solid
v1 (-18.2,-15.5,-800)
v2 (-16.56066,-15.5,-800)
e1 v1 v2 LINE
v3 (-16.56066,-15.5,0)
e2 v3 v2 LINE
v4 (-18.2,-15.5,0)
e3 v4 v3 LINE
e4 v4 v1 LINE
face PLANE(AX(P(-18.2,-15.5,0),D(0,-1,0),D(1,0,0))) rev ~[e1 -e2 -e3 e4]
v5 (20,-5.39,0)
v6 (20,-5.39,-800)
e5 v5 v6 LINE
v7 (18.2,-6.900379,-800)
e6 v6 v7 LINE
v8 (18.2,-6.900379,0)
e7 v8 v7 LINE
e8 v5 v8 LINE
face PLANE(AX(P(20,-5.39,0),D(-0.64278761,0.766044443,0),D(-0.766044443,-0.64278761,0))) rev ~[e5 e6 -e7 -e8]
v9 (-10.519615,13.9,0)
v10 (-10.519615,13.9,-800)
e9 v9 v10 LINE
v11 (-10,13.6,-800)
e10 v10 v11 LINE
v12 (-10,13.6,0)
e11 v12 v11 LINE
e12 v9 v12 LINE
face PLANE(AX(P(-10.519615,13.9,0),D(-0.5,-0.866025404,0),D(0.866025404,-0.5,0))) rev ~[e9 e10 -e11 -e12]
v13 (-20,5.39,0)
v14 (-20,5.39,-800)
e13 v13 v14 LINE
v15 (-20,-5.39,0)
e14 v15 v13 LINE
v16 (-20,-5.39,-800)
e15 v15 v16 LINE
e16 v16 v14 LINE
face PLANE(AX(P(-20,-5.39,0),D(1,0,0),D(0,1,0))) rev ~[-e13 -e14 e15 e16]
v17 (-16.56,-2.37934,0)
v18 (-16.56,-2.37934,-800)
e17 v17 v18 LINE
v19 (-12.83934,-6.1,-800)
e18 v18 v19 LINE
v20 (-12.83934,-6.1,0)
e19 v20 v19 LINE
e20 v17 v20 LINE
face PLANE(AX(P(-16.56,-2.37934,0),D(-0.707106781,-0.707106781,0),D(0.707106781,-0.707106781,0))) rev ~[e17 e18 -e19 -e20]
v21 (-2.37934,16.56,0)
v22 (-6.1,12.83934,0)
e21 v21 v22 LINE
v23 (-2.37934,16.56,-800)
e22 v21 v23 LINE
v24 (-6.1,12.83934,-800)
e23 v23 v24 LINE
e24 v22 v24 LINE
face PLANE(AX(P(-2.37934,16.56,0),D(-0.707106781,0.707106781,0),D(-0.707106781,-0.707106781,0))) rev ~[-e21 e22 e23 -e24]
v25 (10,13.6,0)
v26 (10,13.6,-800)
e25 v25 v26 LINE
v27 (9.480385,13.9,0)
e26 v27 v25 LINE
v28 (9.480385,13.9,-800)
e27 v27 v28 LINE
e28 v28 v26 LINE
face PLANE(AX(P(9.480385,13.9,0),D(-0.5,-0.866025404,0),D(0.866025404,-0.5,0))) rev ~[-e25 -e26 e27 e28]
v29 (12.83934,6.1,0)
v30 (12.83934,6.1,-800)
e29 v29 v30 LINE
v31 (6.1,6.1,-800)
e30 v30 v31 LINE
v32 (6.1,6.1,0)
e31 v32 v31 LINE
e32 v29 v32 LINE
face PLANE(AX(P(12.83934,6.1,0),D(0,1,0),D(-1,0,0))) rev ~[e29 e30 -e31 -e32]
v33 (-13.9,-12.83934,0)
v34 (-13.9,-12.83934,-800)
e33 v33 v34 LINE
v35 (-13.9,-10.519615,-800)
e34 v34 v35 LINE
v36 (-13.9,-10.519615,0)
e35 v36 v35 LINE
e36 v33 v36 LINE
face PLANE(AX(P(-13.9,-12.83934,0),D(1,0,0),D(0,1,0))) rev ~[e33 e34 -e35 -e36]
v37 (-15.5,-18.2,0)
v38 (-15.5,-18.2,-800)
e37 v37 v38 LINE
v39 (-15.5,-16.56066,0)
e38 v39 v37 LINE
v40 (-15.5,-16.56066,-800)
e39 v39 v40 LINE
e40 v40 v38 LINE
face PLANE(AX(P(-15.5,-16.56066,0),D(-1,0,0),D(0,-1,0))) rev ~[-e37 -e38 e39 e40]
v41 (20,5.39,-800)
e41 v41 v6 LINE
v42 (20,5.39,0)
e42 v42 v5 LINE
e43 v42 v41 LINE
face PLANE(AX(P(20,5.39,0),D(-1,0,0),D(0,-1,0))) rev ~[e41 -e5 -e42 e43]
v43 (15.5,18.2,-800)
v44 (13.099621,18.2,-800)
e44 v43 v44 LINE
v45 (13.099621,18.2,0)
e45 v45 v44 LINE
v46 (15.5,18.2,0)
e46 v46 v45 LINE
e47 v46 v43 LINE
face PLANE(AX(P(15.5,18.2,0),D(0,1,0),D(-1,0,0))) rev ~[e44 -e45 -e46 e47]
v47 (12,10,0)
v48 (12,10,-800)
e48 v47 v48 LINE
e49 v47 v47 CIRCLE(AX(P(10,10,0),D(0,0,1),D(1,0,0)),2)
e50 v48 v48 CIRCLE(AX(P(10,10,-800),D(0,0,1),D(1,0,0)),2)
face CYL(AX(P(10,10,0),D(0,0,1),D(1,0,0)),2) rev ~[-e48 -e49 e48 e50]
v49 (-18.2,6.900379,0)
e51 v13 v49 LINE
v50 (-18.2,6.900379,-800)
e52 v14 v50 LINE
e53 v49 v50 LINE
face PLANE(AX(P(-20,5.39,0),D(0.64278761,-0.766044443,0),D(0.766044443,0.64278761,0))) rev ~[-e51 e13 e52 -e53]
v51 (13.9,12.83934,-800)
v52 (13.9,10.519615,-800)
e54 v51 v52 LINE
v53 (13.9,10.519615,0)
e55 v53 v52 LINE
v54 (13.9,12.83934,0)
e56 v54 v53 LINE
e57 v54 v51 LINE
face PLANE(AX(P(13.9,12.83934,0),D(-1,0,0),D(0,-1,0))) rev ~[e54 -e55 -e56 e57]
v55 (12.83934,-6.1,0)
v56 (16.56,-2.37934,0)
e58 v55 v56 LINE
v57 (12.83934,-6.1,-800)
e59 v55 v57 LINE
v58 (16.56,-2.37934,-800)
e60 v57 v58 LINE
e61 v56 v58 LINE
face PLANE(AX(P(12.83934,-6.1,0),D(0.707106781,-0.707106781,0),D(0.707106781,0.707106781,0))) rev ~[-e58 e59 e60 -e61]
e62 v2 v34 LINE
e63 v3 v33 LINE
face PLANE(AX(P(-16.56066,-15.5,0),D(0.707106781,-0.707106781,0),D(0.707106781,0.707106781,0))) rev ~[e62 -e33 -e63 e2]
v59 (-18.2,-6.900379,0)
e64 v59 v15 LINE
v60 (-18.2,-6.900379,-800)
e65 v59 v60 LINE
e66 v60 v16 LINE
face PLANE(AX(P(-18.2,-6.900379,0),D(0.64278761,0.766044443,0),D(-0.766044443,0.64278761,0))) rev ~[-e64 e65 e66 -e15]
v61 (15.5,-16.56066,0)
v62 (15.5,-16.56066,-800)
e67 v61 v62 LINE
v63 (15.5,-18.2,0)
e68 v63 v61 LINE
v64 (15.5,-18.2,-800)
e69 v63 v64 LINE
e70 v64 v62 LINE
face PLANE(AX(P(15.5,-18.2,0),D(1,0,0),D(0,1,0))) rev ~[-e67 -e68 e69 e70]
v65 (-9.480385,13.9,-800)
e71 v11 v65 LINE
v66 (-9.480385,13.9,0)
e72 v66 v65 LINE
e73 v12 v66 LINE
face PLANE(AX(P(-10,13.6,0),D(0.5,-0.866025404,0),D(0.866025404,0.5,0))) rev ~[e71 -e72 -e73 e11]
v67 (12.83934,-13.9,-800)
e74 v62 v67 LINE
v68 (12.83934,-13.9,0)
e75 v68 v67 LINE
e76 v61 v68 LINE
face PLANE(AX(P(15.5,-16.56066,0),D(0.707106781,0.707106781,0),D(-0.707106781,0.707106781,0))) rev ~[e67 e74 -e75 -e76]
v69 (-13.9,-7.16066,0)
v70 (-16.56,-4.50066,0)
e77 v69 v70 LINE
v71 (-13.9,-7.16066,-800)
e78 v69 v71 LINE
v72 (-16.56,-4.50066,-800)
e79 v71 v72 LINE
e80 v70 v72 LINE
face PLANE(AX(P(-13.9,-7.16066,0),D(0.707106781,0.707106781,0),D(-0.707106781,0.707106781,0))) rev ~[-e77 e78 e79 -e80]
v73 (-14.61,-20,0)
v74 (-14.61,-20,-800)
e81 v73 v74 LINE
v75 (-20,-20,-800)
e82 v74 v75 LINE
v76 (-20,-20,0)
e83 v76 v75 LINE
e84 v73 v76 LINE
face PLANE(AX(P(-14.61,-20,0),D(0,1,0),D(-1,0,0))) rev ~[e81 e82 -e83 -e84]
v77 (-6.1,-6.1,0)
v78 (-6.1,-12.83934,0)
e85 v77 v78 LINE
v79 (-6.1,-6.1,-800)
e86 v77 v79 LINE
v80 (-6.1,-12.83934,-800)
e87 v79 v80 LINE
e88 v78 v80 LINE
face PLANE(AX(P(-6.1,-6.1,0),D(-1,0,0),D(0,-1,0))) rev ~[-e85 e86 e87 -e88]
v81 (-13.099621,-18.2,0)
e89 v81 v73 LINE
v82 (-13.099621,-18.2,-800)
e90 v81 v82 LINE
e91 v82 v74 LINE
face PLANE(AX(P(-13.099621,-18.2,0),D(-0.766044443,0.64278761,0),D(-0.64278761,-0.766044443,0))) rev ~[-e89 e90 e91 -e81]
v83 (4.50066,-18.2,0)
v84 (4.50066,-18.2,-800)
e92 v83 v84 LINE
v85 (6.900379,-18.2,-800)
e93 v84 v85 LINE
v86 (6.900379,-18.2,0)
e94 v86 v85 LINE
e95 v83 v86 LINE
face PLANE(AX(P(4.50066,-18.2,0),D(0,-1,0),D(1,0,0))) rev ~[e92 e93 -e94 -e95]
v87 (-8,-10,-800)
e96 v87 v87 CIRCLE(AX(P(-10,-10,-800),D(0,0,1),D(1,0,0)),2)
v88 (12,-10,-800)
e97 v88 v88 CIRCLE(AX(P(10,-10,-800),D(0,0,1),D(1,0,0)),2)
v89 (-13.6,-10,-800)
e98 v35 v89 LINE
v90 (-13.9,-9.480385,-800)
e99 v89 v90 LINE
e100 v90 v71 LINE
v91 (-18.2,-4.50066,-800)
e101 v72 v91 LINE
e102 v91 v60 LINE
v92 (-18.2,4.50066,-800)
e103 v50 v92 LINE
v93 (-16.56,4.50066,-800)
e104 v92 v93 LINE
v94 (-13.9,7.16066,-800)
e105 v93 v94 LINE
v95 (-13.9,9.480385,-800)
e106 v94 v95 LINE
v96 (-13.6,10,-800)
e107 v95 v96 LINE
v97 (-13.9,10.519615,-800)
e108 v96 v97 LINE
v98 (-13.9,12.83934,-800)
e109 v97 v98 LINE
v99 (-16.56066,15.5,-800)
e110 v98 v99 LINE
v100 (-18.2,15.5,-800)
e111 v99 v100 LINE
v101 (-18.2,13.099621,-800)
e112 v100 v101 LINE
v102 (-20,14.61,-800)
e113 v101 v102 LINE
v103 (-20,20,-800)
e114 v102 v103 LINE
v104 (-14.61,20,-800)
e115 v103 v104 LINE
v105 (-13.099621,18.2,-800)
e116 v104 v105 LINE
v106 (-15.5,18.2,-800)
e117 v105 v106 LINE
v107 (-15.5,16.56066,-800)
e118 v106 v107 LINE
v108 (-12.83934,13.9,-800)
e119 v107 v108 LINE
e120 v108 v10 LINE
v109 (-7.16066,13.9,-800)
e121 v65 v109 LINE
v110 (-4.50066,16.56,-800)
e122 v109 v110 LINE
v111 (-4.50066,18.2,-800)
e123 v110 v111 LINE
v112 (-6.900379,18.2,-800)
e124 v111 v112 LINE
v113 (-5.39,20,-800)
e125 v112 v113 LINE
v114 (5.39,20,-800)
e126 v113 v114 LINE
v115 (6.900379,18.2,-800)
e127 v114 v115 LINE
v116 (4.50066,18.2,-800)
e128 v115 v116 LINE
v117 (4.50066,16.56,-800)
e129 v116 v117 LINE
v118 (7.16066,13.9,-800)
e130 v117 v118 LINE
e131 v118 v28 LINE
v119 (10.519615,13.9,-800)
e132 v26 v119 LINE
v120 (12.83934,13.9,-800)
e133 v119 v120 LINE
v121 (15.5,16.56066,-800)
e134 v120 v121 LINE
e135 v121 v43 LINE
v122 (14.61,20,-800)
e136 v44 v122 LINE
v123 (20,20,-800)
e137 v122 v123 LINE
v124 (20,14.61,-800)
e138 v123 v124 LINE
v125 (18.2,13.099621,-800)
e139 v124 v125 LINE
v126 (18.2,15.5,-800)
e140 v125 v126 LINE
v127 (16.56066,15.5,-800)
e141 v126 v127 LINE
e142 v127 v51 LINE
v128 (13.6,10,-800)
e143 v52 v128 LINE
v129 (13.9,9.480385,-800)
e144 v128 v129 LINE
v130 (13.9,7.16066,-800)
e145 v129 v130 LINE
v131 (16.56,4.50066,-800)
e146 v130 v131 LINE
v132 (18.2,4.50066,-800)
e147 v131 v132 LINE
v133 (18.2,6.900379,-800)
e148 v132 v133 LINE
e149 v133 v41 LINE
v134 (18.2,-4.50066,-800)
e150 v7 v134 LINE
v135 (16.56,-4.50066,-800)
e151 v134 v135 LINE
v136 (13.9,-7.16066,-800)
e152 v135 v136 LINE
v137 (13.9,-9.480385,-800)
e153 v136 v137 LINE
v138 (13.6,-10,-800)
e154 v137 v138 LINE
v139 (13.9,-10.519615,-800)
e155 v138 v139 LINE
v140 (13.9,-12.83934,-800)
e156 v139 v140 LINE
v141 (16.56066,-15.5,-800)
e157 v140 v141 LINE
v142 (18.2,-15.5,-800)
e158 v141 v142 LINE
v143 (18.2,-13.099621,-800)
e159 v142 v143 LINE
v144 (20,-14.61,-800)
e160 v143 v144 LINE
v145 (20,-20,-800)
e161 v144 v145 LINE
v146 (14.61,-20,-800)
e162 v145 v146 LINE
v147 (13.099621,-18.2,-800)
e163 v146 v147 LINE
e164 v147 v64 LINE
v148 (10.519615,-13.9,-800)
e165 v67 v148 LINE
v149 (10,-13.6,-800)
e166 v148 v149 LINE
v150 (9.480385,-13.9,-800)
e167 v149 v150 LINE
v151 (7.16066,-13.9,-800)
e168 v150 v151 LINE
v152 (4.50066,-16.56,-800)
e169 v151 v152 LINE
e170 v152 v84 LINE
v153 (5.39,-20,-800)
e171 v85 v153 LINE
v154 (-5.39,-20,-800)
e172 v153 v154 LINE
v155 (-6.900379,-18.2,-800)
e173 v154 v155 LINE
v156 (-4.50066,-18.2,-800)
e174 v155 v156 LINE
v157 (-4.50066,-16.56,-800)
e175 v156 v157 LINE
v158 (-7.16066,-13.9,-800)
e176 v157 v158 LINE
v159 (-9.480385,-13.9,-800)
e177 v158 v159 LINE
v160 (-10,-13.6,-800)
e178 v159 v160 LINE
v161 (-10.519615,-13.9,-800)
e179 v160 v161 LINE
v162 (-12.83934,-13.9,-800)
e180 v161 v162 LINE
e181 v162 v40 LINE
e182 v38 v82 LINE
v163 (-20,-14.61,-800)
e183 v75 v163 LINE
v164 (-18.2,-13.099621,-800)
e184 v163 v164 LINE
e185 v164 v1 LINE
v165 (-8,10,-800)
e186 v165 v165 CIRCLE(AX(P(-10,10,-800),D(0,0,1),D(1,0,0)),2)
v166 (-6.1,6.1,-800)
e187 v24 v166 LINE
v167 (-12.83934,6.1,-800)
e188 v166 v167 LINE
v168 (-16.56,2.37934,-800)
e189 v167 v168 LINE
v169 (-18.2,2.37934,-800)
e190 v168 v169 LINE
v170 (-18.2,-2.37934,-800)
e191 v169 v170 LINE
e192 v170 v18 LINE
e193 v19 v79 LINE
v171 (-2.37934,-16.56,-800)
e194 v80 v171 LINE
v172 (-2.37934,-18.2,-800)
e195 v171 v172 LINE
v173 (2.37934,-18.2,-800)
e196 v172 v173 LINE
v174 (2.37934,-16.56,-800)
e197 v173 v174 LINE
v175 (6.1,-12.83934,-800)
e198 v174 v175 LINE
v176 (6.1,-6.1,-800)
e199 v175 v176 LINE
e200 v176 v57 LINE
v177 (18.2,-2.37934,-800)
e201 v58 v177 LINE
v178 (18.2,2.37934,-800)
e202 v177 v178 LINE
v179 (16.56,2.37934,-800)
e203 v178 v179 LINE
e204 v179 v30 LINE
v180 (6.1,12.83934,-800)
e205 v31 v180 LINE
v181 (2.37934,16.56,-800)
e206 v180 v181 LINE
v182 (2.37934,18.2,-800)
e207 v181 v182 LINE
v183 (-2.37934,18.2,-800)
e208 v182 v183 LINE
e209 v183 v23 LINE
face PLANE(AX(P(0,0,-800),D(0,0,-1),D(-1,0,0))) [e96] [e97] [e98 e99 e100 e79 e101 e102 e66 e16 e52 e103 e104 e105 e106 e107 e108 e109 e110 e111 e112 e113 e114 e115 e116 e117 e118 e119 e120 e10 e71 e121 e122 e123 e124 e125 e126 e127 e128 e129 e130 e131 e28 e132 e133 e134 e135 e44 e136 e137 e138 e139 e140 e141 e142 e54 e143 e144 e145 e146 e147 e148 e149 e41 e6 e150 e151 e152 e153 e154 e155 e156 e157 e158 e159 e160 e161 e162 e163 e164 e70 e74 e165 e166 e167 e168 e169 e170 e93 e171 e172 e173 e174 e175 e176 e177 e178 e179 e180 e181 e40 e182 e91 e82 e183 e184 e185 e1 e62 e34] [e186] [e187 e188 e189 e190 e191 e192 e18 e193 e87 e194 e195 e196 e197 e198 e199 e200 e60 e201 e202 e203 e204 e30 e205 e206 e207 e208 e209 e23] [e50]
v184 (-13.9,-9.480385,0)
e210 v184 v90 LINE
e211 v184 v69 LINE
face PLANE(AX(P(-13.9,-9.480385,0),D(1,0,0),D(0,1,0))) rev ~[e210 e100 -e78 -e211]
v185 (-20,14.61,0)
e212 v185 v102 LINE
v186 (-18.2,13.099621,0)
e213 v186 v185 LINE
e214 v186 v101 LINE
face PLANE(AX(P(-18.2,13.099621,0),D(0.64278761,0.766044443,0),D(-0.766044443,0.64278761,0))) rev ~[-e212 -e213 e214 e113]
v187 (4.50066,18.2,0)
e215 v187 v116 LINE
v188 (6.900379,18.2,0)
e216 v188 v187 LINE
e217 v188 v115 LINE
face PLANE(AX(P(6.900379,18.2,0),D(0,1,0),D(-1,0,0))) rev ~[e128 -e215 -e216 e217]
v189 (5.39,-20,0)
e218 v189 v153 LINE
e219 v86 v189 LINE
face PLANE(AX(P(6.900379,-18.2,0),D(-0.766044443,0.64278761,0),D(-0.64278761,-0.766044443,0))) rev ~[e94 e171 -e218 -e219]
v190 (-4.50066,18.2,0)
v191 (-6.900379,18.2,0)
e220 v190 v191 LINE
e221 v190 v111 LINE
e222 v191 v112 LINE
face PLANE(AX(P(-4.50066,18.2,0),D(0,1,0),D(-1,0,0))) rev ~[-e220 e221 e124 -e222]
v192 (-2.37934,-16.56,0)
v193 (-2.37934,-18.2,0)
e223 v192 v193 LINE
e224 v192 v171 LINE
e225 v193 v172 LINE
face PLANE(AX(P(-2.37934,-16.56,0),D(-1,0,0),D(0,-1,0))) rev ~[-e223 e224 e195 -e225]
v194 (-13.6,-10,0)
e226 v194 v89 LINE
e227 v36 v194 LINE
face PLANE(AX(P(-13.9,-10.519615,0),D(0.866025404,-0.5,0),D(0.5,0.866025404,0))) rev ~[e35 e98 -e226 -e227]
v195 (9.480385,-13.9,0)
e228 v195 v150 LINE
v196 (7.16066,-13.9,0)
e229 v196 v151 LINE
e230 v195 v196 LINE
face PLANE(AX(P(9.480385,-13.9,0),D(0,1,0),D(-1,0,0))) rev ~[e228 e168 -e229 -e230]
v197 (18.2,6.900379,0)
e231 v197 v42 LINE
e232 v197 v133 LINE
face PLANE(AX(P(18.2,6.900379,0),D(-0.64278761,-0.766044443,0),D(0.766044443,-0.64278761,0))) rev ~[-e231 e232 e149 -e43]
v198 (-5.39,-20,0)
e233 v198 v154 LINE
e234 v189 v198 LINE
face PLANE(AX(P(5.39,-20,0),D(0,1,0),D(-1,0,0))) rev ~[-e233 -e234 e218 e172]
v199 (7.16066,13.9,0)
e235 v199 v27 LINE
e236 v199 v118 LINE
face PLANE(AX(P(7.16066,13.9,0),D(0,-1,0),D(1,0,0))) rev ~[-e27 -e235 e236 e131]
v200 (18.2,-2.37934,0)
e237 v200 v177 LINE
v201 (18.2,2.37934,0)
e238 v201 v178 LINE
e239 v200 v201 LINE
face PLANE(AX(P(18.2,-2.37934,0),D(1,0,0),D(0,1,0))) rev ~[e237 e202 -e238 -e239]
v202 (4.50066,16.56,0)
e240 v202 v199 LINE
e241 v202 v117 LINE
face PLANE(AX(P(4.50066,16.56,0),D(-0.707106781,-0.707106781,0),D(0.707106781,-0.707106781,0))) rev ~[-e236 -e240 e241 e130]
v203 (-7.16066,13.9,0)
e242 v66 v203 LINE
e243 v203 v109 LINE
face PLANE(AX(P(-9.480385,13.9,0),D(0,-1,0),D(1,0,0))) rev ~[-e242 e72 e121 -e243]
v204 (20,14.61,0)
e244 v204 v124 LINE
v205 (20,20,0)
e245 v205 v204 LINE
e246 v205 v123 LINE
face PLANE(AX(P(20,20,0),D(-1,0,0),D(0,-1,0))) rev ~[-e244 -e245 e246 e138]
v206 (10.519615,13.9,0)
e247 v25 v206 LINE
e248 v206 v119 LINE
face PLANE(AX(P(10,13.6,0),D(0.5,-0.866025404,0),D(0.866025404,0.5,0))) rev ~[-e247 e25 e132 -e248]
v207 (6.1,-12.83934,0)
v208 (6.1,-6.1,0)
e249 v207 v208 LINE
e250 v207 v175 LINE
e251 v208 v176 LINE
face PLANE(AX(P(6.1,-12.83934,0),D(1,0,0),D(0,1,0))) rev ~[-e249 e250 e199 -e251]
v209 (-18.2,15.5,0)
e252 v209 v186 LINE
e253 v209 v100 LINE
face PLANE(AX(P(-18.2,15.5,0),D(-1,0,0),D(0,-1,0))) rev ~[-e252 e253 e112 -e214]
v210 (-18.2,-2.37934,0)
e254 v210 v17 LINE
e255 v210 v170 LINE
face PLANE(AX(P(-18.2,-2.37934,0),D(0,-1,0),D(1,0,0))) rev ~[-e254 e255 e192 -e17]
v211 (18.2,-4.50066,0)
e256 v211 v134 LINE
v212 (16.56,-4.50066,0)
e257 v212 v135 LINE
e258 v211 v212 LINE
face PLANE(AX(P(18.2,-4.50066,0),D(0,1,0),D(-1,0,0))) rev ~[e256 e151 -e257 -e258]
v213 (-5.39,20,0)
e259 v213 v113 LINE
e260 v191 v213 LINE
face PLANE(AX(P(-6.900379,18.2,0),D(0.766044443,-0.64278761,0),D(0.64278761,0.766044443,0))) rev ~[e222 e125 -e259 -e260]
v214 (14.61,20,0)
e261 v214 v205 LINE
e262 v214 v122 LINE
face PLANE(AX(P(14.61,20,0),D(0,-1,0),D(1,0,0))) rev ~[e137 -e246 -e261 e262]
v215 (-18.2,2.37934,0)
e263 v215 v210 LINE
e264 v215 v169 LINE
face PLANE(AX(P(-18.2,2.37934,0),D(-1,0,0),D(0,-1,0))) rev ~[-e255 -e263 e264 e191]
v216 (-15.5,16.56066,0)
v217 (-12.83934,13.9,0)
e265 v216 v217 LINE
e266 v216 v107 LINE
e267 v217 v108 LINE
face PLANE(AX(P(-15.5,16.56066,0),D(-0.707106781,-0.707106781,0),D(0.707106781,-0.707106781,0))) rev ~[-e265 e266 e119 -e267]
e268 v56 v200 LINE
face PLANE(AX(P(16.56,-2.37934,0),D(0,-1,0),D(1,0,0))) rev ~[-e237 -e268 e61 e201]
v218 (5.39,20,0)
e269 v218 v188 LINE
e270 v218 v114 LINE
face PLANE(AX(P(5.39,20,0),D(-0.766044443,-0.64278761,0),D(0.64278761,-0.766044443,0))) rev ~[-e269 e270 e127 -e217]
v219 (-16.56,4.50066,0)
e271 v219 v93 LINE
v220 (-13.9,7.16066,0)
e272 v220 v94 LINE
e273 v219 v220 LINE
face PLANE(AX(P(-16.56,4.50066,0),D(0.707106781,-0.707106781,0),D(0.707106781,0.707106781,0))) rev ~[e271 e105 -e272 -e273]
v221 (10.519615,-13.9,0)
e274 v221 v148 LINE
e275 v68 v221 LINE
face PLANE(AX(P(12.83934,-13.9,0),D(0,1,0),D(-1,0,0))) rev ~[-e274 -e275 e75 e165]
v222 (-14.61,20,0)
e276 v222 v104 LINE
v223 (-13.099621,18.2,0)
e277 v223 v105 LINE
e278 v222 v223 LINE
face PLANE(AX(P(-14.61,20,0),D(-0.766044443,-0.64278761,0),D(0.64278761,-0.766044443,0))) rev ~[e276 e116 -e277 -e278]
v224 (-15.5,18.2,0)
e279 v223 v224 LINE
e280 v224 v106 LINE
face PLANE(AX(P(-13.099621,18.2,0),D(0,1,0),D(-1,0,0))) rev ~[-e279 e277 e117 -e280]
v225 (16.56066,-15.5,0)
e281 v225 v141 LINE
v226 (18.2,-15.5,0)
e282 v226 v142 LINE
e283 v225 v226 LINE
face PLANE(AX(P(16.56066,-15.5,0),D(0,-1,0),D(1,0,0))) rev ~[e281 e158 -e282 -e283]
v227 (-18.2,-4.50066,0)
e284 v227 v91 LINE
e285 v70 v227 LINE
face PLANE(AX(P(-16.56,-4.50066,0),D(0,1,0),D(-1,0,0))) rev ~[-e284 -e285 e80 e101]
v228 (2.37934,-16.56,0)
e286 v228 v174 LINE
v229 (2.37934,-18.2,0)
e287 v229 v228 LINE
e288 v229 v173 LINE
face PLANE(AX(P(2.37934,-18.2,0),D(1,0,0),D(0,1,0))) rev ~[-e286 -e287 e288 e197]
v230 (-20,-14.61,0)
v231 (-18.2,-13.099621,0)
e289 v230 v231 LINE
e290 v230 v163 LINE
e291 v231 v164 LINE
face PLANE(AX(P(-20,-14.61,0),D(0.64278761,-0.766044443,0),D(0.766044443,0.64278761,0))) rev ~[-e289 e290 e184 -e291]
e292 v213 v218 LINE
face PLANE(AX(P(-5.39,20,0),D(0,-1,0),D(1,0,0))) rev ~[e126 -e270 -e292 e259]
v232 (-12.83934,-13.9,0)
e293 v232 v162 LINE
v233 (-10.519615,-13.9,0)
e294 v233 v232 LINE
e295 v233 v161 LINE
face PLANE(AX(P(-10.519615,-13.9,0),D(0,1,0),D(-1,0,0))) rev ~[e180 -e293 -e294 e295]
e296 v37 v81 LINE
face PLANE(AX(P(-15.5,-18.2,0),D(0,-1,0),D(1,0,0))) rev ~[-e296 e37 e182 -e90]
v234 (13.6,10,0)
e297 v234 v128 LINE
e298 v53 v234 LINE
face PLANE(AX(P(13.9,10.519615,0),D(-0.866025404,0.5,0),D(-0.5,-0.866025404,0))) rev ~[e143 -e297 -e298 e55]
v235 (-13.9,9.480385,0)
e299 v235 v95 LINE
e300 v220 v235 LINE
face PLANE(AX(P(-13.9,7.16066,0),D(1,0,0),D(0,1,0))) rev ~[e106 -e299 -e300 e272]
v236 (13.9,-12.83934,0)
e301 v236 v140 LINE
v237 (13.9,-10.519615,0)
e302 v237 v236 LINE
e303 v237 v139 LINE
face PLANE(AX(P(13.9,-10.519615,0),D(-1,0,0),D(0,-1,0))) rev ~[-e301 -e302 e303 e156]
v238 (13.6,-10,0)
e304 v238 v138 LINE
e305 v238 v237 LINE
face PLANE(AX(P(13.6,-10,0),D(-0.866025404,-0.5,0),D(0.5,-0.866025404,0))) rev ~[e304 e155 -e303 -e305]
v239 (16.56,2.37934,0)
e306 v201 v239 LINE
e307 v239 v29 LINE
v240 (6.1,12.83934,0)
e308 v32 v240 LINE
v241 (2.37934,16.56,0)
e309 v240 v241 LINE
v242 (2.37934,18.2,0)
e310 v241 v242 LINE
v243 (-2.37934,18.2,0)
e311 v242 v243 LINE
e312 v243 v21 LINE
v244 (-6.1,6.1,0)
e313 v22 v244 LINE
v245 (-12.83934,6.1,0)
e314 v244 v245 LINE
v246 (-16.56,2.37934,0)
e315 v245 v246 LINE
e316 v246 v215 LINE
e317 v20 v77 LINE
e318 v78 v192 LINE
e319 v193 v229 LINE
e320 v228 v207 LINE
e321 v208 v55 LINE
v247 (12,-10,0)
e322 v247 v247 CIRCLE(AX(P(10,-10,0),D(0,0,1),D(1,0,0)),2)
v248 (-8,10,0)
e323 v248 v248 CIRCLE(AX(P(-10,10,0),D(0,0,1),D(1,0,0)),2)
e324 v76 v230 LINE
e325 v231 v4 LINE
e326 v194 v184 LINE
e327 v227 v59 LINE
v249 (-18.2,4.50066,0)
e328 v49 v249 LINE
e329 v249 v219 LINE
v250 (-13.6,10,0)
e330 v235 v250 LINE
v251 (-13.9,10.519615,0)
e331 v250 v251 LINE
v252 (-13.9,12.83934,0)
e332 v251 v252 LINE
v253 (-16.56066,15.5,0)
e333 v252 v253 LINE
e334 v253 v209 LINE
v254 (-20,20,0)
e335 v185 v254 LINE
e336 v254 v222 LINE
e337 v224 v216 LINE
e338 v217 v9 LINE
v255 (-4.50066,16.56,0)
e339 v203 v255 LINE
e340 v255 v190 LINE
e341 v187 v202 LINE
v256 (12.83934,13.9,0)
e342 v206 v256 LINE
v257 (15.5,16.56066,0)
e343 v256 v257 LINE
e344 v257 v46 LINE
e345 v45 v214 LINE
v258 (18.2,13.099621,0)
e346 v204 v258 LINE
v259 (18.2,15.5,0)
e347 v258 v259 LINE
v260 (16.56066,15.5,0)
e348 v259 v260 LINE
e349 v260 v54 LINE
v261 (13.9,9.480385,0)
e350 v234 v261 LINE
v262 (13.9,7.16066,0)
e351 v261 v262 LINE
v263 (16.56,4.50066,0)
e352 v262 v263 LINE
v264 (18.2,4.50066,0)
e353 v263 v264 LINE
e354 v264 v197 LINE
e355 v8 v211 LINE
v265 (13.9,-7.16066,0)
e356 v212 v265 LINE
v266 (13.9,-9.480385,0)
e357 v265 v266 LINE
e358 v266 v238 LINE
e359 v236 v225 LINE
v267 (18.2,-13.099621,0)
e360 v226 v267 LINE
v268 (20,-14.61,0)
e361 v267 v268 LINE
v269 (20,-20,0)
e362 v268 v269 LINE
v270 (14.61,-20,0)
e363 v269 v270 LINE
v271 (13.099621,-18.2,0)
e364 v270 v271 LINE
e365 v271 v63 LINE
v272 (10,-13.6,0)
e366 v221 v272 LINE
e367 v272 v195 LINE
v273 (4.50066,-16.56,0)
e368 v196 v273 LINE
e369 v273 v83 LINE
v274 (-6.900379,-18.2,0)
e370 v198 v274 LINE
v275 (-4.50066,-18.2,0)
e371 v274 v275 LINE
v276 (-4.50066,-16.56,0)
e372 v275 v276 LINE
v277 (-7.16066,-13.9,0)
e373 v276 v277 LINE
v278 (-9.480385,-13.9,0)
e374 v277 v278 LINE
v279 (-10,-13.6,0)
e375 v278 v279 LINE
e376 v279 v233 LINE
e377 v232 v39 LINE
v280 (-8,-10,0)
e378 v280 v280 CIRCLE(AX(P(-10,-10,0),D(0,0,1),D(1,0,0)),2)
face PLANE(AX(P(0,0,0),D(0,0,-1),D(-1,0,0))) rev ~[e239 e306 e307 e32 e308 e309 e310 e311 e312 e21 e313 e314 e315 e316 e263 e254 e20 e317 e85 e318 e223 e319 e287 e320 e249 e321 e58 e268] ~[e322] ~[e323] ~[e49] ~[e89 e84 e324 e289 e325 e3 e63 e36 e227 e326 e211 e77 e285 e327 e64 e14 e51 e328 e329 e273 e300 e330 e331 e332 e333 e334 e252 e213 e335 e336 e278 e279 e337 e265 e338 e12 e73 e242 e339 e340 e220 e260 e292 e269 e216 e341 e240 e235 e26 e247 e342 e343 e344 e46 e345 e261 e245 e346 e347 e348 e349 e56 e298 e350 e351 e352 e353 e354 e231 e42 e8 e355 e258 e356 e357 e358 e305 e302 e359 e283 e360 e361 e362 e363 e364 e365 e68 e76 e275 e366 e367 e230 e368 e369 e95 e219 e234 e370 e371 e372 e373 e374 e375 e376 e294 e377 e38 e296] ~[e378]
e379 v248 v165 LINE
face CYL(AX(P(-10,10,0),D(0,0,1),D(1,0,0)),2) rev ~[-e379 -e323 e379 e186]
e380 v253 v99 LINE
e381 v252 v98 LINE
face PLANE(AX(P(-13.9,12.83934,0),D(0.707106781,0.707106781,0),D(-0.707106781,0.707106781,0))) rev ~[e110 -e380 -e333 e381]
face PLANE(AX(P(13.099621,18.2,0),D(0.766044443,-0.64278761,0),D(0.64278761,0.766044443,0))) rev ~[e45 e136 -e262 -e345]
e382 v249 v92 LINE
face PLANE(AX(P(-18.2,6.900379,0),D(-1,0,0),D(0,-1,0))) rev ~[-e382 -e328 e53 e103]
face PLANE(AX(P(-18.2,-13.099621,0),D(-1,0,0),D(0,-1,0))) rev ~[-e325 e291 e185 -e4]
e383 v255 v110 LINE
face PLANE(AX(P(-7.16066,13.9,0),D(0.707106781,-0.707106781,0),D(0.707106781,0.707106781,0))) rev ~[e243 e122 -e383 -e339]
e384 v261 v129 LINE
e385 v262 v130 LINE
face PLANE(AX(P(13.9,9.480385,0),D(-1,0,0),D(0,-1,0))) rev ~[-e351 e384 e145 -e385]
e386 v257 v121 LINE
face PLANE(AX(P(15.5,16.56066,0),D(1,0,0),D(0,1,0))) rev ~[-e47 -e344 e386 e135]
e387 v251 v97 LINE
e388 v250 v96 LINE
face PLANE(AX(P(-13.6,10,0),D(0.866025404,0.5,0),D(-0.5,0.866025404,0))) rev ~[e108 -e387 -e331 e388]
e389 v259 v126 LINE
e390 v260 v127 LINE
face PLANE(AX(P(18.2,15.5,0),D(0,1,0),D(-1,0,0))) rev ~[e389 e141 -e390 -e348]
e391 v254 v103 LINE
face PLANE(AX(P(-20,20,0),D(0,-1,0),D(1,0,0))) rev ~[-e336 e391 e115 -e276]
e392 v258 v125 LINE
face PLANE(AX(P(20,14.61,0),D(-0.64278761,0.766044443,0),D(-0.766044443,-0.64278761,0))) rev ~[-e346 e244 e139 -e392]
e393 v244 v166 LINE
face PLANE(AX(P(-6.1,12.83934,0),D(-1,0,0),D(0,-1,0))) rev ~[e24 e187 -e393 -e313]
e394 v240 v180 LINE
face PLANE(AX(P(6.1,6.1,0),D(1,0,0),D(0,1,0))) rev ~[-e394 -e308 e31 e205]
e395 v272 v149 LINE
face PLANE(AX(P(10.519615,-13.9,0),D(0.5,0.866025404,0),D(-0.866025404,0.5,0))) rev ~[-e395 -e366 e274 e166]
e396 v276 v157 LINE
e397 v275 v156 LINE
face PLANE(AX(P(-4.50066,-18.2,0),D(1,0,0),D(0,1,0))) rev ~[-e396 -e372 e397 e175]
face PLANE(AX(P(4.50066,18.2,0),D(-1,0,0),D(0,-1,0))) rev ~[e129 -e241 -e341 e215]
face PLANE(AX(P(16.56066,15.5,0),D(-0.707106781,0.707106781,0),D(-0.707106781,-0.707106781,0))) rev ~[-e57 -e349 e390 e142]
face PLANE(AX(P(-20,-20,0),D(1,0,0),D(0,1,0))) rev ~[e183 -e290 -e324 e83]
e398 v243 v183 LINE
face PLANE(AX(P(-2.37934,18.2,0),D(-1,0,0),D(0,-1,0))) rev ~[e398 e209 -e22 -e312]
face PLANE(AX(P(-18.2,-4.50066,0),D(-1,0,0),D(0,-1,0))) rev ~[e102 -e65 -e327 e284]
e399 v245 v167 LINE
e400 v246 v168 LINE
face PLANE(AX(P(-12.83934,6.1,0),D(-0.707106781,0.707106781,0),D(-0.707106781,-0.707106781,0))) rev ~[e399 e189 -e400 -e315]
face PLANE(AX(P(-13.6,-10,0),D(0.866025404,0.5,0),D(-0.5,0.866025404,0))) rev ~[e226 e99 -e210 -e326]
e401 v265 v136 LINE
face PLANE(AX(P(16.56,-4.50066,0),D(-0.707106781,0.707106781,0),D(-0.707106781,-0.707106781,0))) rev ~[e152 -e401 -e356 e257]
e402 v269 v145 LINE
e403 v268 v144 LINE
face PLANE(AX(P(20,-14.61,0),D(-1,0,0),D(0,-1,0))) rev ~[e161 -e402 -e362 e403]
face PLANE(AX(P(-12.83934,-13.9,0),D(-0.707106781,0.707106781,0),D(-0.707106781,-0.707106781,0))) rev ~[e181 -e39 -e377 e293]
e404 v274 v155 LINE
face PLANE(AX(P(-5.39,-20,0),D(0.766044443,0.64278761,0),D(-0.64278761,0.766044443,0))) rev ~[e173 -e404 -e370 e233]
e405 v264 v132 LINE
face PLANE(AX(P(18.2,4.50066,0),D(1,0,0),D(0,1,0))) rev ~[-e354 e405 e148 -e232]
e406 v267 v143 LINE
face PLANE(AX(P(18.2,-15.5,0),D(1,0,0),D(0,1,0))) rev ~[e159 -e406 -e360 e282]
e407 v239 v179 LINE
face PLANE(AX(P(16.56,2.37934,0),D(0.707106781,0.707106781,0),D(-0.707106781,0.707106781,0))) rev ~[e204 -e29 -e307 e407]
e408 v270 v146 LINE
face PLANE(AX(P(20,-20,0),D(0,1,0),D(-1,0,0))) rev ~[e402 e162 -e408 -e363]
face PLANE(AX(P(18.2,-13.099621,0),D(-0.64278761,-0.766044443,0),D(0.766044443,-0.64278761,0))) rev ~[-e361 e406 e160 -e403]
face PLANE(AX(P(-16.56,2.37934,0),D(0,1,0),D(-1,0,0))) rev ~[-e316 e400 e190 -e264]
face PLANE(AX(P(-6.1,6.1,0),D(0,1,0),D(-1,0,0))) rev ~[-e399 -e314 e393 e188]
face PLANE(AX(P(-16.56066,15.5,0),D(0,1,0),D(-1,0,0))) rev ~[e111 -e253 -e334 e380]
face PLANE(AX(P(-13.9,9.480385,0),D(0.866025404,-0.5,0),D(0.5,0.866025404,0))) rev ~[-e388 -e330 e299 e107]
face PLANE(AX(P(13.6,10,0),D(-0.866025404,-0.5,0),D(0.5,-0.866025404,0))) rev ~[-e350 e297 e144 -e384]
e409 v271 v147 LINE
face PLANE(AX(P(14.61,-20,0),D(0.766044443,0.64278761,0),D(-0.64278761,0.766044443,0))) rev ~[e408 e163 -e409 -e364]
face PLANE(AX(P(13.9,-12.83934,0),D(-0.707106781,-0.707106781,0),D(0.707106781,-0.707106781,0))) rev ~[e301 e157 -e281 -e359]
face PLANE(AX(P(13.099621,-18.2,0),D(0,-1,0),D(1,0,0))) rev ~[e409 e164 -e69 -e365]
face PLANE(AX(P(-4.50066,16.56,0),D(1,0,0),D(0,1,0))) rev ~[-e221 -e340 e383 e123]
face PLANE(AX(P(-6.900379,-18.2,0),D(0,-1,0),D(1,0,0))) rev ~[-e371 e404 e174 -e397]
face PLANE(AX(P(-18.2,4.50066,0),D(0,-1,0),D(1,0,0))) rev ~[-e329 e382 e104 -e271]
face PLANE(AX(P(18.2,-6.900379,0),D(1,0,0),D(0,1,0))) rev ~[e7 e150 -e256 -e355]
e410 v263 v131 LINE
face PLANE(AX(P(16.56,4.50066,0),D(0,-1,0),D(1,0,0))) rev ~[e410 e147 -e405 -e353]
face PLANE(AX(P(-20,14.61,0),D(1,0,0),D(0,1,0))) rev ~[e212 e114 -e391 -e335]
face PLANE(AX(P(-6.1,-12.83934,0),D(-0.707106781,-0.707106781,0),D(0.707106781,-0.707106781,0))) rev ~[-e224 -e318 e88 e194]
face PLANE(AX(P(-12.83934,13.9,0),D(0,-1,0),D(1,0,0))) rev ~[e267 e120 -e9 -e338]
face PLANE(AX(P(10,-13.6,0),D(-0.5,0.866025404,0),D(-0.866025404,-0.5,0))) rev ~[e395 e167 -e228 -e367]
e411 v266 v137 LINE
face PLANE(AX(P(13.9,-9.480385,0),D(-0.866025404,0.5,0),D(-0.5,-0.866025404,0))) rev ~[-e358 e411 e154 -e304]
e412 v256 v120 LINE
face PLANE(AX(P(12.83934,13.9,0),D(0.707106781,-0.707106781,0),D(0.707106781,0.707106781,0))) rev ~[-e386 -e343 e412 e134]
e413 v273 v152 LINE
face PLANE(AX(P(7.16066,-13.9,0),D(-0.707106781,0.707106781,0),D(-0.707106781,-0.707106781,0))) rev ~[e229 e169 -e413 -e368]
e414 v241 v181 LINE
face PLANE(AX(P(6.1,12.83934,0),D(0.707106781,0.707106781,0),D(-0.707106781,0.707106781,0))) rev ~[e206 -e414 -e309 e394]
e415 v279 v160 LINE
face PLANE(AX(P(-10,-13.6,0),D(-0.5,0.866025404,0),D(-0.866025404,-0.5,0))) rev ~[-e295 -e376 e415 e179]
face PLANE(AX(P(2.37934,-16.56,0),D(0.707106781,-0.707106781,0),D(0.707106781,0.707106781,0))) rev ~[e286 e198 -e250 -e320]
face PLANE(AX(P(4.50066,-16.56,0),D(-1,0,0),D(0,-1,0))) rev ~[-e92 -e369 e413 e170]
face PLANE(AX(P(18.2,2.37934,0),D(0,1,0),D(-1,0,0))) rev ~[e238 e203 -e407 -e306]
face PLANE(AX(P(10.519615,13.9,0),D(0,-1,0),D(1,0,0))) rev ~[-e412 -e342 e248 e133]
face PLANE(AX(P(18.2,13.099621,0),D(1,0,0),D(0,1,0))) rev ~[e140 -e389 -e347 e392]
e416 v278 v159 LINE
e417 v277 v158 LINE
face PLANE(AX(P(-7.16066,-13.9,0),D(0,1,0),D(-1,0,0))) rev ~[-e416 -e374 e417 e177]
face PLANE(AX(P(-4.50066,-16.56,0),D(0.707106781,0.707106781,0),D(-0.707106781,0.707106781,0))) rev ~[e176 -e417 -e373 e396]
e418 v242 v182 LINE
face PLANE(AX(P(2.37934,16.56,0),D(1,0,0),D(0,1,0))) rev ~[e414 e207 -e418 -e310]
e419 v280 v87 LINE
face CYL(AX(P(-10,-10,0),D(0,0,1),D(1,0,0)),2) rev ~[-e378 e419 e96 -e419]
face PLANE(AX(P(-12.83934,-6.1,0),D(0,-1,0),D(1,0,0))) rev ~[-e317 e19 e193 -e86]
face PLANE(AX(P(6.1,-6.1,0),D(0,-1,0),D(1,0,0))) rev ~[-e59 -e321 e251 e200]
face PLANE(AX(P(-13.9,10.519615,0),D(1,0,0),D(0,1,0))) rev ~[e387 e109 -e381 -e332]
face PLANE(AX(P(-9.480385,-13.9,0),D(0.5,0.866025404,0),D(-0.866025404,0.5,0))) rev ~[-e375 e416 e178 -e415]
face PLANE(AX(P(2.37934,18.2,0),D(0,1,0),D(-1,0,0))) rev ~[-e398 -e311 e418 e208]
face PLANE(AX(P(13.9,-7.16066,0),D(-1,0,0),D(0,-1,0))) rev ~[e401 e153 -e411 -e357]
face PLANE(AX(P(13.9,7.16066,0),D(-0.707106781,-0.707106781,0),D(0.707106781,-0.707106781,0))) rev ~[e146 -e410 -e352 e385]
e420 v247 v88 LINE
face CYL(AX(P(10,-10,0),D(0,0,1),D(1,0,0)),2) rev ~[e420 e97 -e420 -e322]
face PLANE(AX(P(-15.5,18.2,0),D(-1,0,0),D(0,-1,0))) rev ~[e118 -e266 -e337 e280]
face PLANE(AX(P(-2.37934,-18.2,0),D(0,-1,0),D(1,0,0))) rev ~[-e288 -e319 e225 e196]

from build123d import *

# Parameters (mm, degrees)
SKETCH2_R           = 2
BOSS_EXTRUDE1_DEPTH = 800


with BuildPart() as part:
    # Sketch2 → Boss-Extrude1 (new body)
    with BuildSketch(Plane.XY):
        Polygon((-13.9, -12.839339828), (-13.9, -10.519615242), (-13.6, -10), (-13.9, -9.480384758), (-13.9, -7.160660172), (-16.56, -4.500660172), (-18.2, -4.500660172), (-18.2, -6.900379336), (-20, -5.39), (-20, 5.39), (-18.2, 6.900379336), (-18.2, 4.500660172), (-16.56, 4.500660172), (-13.9, 7.160660172), (-13.9, 9.480384758), (-13.6, 10), (-13.9, 10.519615242), (-13.9, 12.839339828), (-16.560660172, 15.5), (-18.2, 15.5), (-18.2, 13.099620664), (-20, 14.61), (-20, 20), (-14.61, 20), (-13.099620664, 18.2), (-15.5, 18.2), (-15.5, 16.560660172), (-12.839339828, 13.9), (-10.519615242, 13.9), (-10, 13.6), (-9.480384758, 13.9), (-7.160660172, 13.9), (-4.500660172, 16.56), (-4.500660172, 18.2), (-6.900379336, 18.2), (-5.39, 20), (5.39, 20), (6.900379336, 18.2), (4.500660172, 18.2), (4.500660172, 16.56), (7.160660172, 13.9), (9.480384758, 13.9), (10, 13.6), (10.519615242, 13.9), (12.839339828, 13.9), (15.5, 16.560660172), (15.5, 18.2), (13.099620664, 18.2), (14.61, 20), (20, 20), (20, 14.61), (18.2, 13.099620664), (18.2, 15.5), (16.560660172, 15.5), (13.9, 12.839339828), (13.9, 10.519615242), (13.6, 10), (13.9, 9.480384758), (13.9, 7.160660172), (16.56, 4.500660172), (18.2, 4.500660172), (18.2, 6.900379336), (20, 5.39), (20, -5.39), (18.2, -6.900379336), (18.2, -4.500660172), (16.56, -4.500660172), (13.9, -7.160660172), (13.9, -9.480384758), (13.6, -10), (13.9, -10.519615242), (13.9, -12.839339828), (16.560660172, -15.5), (18.2, -15.5), (18.2, -13.099620664), (20, -14.61), (20, -20), (14.61, -20), (13.099620664, -18.2), (15.5, -18.2), (15.5, -16.560660172), (12.839339828, -13.9), (10.519615242, -13.9), (10, -13.6), (9.480384758, -13.9), (7.160660172, -13.9), (4.500660172, -16.56), (4.500660172, -18.2), (6.900379336, -18.2), (5.39, -20), (-5.39, -20), (-6.900379336, -18.2), (-4.500660172, -18.2), (-4.500660172, -16.56), (-7.160660172, -13.9), (-9.480384758, -13.9), (-10, -13.6), (-10.519615242, -13.9), (-12.839339828, -13.9), (-15.5, -16.560660172), (-15.5, -18.2), (-13.099620664, -18.2), (-14.61, -20), (-20, -20), (-20, -14.61), (-18.2, -13.099620664), (-18.2, -15.5), (-16.560660172, -15.5), align=None)
        with Locations((-10, -10)):
            Circle(SKETCH2_R, mode=Mode.SUBTRACT)
        with Locations((10, -10)):
            Circle(SKETCH2_R, mode=Mode.SUBTRACT)
        with Locations((10, 10)):
            Circle(SKETCH2_R, mode=Mode.SUBTRACT)
        with Locations((-10, 10)):
            Circle(SKETCH2_R, mode=Mode.SUBTRACT)
        Polygon((-12.839339828, -6.1), (-6.1, -6.1), (-6.1, -12.839339828), (-2.379339828, -16.56), (-2.379339828, -18.2), (2.379339828, -18.2), (2.379339828, -16.56), (6.1, -12.839339828), (6.1, -6.1), (12.839339828, -6.1), (16.56, -2.379339828), (18.2, -2.379339828), (18.2, 2.379339828), (16.56, 2.379339828), (12.839339828, 6.1), (6.1, 6.1), (6.1, 12.839339828), (2.379339828, 16.56), (2.379339828, 18.2), (-2.379339828, 18.2), (-2.379339828, 16.56), (-6.1, 12.839339828), (-6.1, 6.1), (-12.839339828, 6.1), (-16.56, 2.379339828), (-18.2, 2.379339828), (-18.2, -2.379339828), (-16.56, -2.379339828), align=None, mode=Mode.SUBTRACT)
    extrude(amount=-BOSS_EXTRUDE1_DEPTH)


solid = part.part
